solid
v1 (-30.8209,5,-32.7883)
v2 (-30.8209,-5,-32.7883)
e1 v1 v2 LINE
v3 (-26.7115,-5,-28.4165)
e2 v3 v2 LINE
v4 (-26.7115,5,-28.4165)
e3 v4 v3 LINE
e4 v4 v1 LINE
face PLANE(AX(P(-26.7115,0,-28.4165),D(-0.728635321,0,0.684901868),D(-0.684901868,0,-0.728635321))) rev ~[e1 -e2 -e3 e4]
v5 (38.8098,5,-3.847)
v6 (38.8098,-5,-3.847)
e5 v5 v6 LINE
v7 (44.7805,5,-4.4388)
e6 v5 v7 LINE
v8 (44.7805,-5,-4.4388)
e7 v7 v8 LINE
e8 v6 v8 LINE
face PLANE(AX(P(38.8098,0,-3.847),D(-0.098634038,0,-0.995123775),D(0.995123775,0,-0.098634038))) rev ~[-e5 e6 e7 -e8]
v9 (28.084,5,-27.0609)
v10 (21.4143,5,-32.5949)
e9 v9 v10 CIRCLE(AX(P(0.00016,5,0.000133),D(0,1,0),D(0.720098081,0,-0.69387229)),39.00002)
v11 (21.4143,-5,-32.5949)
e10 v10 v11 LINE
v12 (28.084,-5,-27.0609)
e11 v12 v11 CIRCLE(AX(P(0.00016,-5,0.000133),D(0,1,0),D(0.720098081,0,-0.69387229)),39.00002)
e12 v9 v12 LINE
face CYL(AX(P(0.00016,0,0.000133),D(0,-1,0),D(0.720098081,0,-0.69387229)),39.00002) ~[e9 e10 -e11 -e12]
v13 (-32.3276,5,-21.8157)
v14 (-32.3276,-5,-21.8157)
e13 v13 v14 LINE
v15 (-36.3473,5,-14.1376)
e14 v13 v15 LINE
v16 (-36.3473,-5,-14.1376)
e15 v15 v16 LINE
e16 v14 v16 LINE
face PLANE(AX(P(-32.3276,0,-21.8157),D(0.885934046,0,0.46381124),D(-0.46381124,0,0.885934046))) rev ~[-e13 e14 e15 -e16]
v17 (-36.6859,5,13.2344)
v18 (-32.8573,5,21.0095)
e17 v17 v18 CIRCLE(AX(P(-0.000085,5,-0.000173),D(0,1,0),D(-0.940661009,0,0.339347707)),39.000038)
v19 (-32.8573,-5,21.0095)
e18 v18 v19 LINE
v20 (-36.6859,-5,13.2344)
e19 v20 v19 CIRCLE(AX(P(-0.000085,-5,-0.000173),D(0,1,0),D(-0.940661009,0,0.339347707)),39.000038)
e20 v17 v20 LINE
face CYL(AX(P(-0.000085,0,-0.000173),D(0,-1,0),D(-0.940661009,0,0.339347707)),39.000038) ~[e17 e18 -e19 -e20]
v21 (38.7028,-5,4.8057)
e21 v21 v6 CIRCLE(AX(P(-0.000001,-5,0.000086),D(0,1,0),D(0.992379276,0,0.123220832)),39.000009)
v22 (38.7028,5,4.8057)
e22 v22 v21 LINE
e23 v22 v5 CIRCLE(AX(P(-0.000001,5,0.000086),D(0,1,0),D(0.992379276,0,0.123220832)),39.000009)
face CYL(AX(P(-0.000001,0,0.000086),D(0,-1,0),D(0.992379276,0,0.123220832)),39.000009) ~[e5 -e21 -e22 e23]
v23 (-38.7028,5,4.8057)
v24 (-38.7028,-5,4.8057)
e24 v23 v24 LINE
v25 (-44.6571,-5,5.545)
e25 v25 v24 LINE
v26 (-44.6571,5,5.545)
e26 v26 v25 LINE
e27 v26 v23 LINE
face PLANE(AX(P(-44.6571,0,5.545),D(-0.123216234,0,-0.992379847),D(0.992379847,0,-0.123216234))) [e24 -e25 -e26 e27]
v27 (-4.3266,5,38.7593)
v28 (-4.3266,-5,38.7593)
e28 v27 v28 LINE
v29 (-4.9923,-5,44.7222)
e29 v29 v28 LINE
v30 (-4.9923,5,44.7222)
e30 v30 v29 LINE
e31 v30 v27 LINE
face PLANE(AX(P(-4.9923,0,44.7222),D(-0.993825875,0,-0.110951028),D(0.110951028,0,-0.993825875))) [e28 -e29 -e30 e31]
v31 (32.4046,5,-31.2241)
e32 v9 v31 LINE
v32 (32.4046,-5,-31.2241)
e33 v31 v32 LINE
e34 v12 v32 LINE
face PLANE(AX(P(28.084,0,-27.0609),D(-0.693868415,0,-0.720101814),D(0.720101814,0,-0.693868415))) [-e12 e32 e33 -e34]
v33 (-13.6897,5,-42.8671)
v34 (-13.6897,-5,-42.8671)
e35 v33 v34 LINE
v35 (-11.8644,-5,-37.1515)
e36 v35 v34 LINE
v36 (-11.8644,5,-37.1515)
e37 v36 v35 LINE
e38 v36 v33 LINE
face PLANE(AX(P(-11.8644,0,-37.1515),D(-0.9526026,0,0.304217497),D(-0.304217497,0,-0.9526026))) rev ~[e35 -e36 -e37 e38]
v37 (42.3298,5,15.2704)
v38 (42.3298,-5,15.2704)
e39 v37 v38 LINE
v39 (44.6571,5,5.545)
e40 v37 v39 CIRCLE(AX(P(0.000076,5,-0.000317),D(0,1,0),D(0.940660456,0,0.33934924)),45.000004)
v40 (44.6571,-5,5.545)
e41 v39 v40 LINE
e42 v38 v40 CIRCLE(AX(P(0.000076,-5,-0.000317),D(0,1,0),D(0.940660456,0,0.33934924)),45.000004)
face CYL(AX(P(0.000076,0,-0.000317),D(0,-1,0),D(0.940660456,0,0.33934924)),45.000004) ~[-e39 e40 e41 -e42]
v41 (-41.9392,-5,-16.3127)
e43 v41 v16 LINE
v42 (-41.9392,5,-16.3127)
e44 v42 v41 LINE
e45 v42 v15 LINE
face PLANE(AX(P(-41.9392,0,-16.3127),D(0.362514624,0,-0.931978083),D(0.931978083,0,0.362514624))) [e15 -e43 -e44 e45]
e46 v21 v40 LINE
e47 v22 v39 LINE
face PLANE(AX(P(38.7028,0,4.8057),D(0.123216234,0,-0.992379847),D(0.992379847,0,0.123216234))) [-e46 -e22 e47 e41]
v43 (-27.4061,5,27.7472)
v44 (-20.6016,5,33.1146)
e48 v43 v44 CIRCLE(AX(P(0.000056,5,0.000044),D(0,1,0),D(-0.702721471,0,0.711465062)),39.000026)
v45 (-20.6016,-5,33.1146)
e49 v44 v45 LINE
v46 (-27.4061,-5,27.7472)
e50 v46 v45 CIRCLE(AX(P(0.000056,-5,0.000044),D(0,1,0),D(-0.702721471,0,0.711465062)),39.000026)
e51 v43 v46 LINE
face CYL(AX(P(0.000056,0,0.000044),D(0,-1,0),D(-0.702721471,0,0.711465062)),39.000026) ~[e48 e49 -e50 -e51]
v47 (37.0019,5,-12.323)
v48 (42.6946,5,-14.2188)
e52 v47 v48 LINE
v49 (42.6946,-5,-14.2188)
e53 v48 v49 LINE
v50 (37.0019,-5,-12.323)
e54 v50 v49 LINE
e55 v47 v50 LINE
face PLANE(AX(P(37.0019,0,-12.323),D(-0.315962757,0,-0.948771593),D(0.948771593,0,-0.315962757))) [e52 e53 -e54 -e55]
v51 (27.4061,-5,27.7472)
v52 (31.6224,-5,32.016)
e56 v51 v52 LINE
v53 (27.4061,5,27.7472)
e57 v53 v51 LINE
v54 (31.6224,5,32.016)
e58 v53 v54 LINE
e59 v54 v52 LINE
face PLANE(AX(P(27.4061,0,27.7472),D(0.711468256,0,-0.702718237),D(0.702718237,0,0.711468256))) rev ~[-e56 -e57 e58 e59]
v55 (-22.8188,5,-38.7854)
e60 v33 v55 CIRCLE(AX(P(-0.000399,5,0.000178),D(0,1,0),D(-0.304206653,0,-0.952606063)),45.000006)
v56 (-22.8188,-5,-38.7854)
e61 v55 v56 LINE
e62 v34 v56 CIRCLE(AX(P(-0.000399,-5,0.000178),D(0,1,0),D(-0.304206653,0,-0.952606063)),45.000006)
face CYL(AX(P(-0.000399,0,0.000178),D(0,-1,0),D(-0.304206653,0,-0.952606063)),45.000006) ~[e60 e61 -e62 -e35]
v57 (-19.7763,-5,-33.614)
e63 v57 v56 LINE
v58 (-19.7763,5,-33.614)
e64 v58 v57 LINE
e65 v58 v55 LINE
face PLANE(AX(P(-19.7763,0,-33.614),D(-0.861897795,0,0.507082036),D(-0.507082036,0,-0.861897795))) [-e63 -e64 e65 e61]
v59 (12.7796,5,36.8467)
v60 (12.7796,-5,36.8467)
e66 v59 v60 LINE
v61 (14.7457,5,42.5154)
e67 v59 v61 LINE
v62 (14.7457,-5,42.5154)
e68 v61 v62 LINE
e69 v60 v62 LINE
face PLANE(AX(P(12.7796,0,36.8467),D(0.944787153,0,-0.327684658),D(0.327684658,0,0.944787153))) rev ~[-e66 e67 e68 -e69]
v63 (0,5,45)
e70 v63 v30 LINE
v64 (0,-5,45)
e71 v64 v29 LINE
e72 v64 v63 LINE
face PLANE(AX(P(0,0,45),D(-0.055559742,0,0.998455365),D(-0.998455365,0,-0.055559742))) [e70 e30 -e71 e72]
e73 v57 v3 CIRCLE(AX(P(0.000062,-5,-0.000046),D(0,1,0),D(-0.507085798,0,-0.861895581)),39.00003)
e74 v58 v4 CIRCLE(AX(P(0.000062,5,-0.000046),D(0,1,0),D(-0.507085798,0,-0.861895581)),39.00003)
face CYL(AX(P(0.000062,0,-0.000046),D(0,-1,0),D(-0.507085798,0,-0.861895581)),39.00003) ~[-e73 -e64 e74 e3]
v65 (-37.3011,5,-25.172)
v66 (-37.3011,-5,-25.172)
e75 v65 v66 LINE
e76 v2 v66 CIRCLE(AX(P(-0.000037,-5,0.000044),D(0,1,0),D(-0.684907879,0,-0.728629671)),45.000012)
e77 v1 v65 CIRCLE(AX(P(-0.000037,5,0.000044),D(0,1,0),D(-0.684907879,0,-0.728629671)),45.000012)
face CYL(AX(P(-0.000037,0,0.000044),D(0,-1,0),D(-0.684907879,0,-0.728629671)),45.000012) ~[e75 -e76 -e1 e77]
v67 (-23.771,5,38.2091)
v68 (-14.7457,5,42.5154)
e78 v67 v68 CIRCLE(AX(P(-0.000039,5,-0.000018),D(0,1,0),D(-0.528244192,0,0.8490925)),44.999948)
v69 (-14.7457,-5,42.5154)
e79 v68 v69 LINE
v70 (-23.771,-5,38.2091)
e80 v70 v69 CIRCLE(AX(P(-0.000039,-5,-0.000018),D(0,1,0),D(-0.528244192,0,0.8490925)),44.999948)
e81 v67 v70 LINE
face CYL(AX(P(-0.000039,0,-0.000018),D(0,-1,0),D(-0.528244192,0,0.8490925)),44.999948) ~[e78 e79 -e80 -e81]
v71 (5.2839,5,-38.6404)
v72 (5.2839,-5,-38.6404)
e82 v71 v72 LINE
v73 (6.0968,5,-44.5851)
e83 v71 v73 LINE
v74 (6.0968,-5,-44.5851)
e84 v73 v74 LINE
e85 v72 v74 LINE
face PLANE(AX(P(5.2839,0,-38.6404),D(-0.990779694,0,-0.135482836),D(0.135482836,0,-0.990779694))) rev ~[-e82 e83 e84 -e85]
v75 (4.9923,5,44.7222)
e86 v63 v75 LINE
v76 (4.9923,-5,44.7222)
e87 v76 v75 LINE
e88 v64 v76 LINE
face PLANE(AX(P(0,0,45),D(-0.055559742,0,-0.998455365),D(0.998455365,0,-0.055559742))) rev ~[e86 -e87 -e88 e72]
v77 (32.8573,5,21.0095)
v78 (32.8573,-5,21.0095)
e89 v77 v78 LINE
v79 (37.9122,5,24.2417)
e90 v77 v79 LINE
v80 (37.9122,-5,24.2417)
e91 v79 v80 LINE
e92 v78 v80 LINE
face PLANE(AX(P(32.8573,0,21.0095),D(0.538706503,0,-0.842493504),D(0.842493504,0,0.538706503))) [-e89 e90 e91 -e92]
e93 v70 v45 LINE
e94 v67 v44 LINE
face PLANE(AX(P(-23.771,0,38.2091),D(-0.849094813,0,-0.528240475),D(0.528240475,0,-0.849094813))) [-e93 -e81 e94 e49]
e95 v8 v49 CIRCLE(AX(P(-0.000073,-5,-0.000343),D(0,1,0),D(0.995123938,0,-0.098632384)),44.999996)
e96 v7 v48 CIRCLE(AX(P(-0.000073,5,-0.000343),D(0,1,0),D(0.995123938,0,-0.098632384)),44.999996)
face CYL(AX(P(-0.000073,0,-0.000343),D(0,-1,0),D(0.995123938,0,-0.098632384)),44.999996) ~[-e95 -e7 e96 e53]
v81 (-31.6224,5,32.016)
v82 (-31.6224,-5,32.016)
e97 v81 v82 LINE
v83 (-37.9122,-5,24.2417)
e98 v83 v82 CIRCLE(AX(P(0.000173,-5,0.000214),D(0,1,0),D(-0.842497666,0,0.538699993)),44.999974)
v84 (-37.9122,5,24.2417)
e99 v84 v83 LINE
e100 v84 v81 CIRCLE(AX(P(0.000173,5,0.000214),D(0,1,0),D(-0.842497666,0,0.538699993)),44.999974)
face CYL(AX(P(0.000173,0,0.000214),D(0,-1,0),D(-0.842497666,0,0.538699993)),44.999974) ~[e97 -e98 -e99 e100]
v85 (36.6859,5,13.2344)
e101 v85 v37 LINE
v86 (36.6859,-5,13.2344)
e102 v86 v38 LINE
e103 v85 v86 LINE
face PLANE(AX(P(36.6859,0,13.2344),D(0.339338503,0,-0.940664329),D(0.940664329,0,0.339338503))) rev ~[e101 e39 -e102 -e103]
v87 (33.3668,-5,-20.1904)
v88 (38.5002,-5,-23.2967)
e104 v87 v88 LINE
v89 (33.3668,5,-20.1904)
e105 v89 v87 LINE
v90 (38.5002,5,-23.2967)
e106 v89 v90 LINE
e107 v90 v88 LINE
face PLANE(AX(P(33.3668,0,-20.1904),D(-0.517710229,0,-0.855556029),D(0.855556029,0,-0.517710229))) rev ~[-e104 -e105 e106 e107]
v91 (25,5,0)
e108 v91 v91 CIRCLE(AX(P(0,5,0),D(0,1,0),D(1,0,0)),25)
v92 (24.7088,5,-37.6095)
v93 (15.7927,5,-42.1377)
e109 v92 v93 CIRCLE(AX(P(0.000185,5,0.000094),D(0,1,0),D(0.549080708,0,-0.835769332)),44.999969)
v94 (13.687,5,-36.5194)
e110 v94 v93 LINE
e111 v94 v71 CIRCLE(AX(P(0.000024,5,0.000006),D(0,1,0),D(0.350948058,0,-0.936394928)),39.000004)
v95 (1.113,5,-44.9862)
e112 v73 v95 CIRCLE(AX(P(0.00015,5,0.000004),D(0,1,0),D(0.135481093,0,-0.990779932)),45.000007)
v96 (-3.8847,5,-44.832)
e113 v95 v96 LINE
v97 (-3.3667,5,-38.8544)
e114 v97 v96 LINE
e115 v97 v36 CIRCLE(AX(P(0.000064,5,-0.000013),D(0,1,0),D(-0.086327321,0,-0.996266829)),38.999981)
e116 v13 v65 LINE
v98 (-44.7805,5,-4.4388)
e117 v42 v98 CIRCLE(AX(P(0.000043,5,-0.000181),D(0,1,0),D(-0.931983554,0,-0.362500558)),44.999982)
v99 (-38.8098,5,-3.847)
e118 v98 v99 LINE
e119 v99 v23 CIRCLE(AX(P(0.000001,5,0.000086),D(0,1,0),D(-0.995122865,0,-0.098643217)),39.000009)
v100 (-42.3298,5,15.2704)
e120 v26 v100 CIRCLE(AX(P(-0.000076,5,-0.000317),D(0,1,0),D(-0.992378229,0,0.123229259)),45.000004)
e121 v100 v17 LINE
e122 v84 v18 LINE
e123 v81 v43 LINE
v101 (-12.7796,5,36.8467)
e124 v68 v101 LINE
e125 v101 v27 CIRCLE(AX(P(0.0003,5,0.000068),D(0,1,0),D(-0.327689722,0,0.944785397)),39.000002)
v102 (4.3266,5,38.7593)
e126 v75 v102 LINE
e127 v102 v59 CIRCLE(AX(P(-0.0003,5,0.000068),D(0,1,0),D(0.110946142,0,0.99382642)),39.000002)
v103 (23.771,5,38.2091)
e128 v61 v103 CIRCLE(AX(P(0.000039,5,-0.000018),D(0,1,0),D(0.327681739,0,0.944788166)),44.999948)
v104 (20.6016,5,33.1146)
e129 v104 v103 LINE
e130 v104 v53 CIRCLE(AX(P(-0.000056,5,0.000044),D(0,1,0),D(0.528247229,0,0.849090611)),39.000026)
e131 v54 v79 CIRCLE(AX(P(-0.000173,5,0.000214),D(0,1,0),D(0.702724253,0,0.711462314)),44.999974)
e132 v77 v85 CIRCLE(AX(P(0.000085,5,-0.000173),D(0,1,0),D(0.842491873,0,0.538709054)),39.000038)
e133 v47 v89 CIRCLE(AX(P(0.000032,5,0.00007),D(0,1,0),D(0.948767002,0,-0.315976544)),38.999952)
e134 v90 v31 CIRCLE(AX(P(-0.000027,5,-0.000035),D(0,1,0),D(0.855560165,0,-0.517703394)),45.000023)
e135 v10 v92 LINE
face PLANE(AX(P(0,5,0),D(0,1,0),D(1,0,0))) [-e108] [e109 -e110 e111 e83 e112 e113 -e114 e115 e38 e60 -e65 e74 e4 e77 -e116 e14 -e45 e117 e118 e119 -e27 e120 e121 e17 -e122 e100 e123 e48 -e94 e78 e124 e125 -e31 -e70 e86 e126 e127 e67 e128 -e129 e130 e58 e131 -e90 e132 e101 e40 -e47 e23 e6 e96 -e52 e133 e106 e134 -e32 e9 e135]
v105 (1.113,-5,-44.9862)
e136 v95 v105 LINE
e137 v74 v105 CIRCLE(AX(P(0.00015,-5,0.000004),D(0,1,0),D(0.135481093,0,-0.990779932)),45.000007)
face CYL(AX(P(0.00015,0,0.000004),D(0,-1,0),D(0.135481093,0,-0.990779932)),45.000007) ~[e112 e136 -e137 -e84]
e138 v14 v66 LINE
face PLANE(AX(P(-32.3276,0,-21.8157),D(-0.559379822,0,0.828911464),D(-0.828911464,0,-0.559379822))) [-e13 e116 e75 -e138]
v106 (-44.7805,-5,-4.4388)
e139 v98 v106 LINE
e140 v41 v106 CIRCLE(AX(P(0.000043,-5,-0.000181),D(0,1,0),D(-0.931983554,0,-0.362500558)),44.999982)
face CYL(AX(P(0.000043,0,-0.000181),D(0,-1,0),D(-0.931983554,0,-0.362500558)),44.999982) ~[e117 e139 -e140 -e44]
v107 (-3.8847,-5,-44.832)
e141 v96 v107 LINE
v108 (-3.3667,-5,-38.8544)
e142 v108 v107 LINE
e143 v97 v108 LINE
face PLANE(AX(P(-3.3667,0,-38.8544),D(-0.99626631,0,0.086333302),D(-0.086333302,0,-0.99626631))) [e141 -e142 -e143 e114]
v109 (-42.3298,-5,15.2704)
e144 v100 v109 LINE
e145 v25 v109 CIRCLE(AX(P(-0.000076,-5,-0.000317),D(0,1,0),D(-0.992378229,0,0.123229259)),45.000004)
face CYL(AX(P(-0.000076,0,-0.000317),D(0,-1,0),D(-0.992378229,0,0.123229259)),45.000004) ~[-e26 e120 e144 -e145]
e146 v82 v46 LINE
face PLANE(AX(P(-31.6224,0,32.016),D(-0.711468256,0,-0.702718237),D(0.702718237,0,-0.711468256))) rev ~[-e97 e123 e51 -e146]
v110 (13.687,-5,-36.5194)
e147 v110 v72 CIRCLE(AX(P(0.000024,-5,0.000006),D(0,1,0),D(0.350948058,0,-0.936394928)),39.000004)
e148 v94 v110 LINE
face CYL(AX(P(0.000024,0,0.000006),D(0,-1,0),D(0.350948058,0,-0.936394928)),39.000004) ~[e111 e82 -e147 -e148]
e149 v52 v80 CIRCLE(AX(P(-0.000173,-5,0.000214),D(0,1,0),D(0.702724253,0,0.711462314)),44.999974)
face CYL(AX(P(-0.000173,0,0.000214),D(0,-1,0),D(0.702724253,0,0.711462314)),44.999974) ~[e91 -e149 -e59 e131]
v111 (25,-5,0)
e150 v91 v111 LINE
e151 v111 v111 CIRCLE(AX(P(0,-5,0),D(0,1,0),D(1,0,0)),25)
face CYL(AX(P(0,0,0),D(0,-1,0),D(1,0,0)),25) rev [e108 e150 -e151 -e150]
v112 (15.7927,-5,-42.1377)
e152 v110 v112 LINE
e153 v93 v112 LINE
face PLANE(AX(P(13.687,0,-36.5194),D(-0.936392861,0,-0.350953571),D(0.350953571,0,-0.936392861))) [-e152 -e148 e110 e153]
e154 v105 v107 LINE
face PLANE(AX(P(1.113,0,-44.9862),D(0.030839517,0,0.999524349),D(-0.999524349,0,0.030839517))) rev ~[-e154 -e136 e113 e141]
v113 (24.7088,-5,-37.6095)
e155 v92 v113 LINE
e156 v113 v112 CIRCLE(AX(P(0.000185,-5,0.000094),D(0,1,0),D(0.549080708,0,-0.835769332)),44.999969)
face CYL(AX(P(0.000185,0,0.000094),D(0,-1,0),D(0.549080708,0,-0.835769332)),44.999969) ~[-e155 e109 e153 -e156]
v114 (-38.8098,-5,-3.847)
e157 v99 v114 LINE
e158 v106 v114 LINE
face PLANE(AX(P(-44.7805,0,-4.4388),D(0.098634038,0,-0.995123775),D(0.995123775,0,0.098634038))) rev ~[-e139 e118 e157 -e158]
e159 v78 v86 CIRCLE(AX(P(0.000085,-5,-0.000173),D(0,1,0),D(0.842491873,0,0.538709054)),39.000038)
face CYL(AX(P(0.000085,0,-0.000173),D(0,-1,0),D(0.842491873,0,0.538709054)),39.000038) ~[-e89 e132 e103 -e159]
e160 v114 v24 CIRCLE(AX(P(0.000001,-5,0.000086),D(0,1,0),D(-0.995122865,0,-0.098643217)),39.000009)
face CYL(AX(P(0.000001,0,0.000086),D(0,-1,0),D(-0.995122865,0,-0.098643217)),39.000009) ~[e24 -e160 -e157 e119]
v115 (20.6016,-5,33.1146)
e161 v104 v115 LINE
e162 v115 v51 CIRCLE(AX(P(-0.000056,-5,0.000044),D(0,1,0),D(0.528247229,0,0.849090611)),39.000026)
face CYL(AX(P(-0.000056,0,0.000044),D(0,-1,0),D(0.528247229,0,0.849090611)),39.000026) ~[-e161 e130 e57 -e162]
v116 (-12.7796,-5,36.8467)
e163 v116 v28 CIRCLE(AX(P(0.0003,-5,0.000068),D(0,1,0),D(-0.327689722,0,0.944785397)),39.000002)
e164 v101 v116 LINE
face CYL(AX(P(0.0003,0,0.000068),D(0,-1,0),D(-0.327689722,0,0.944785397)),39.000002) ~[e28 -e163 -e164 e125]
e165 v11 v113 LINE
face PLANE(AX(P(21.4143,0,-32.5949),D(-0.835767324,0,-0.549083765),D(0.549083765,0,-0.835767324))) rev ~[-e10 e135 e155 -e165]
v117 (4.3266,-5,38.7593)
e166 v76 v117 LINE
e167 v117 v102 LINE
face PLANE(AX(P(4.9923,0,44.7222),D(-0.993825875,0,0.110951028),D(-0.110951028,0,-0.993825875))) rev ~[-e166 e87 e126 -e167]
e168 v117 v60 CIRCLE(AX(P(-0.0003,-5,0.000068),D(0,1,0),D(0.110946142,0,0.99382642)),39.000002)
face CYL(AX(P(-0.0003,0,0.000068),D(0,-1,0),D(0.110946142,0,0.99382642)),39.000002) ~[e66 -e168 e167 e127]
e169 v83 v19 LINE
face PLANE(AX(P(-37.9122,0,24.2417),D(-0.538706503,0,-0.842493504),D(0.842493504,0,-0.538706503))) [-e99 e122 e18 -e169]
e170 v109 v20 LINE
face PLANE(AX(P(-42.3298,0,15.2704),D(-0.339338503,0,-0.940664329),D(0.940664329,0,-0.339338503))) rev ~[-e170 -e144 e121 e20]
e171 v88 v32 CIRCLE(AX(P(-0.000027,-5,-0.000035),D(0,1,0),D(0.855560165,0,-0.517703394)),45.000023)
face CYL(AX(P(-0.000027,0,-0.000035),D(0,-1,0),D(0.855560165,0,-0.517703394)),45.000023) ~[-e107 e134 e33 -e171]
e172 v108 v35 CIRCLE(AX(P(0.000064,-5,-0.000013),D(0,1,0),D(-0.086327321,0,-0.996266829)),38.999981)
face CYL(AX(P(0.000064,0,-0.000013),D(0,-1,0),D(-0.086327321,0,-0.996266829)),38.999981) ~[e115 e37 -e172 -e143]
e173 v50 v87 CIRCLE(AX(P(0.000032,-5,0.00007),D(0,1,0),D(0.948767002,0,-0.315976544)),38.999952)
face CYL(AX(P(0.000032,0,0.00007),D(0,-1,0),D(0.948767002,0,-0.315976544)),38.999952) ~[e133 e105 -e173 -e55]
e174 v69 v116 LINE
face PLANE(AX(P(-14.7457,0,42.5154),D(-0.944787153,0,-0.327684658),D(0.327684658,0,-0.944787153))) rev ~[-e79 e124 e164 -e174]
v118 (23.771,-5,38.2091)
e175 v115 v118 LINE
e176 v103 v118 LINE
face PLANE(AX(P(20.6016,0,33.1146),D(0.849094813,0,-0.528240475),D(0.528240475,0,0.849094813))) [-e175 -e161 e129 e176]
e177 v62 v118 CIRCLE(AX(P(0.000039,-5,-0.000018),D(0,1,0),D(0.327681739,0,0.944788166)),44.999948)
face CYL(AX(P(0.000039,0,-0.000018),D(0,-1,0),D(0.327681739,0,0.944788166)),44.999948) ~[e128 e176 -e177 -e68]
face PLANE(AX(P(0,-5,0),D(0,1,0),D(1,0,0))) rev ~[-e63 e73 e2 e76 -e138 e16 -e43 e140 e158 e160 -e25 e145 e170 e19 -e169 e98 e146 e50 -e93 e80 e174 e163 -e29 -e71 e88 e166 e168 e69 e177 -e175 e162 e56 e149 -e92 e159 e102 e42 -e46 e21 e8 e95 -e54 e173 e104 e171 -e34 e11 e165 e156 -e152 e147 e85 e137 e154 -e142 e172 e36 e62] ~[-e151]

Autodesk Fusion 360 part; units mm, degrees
sketch "Sketch1" plane through (0, 0, 0) normal (0, 1, 0) x (1, 0, 0)
  circle A0 centre (0, 0) radius 25
  line L0 (0, 0) -> (0, -72.8192) construction
  line L1 (0, -72.8192) -> (0, 0) construction
  line L2 (0, -45) -> (-4.9923, -44.7222)
  line L3 (-4.9923, -44.7222) -> (-4.3266, -38.7593)
  line L4 (-14.7457, -42.5154) -> (-12.7796, -36.8467)
  line L5 (-23.771, -38.2091) -> (-20.6016, -33.1146)
  line L6 (-31.6224, -32.016) -> (-27.4061, -27.7472)
  line L7 (-37.9122, -24.2417) -> (-32.8573, -21.0095)
  line L8 (-42.3298, -15.2704) -> (-36.6859, -13.2344)
  line L9 (-44.6571, -5.545) -> (-38.7028, -4.8057)
  line L10 (0, 0) -> (-2.7735, -24.8457) construction
  line L11 (-4.3266, -38.7593) -> (-4.9923, -44.7222) construction
  line L12 (0, 0) -> (-8.1921, -23.6197) construction
  line L13 (-12.7796, -36.8467) -> (-14.7457, -42.5154) construction
  line L14 (0, 0) -> (-13.2061, -21.2273) construction
  line L15 (-20.6016, -33.1146) -> (-23.771, -38.2091) construction
  line L16 (0, 0) -> (-17.568, -17.7866) construction
  line L17 (-27.4061, -27.7472) -> (-31.6224, -32.016) construction
  line L18 (0, 0) -> (-21.0624, -13.4676) construction
  line L19 (-32.8573, -21.0095) -> (-37.9122, -24.2417) construction
  line L20 (0, 0) -> (-23.5166, -8.4836) construction
  line L21 (-36.6859, -13.2344) -> (-42.3298, -15.2704) construction
  line L22 (0, 0) -> (-24.8095, -3.0805) construction
  line L23 (-38.7028, -4.8057) -> (-44.6571, -5.545) construction
  arc A1 (-23.771, -38.2091) -> (-14.7457, -42.5154) centre (0, 0) ccw
  arc A2 (-37.9122, -24.2417) -> (-31.6224, -32.016) centre (0, 0) ccw
  arc A3 (-36.6859, -13.2344) -> (-32.8573, -21.0095) centre (0, 0) ccw
  arc A4 (-27.4061, -27.7472) -> (-20.6016, -33.1146) centre (0, 0) ccw
  line L24 (-44.7805, 4.4388) -> (-38.8098, 3.847) construction
  line L25 (0, 0) -> (-24.8781, 2.466) construction
  line L26 (-38.8098, 3.847) -> (-44.7805, 4.4388) construction
  line L27 (-44.7805, 4.4388) -> (-38.8098, 3.847)
  arc A5 (-44.6571, -5.545) -> (-42.3298, -15.2704) centre (0, 0) ccw
  line L28 (0, -45) -> (4.9923, -44.7222)
  line L29 (0, 0) -> (4.9923, -44.7222) construction
  line L30 (4.9923, -44.7222) -> (4.3266, -38.7593)
  line L31 (0.0235, -39) -> (0, -45) construction
  line L32 (0.0235, -39) -> (0, -45)
  arc A6 (-12.7796, -36.8467) -> (-4.3266, -38.7593) centre (0, 0) ccw
  line L33 (0, 0) -> (67, 0) construction
  line L34 (0, 0) -> (0, 30) construction
  line L35 (65.5098, -16.7592) -> (65.5098, -18.6386)
  line L36 (0, 0) -> (14.7457, -42.5154) construction
  line L37 (0, 0) -> (23.771, -38.2091) construction
  line L38 (0, 0) -> (31.6224, -32.016) construction
  line L39 (0, 0) -> (37.9122, -24.2417) construction
  line L40 (0, 0) -> (42.3298, -15.2704) construction
  line L41 (0, 0) -> (44.6571, -5.545) construction
  line L42 (12.7796, -36.8467) -> (14.7457, -42.5154)
  line L43 (20.6016, -33.1146) -> (23.771, -38.2091)
  line L44 (27.4061, -27.7472) -> (31.6224, -32.016)
  line L45 (32.8573, -21.0095) -> (37.9122, -24.2417)
  line L46 (36.6859, -13.2344) -> (42.3298, -15.2704)
  line L47 (38.7028, -4.8057) -> (44.6571, -5.545)
  arc A7 (-4.9923, -44.7222) -> (4.9923, -44.7222) centre (0, 0) ccw
  line L48 (4.9923, -44.7222) -> (14.7457, -42.5154) construction
  arc A8 (14.7457, -42.5154) -> (23.771, -38.2091) centre (0, 0) ccw
  line L49 (23.771, -38.2091) -> (31.6224, -32.016) construction
  arc A9 (31.6224, -32.016) -> (37.9122, -24.2417) centre (0, 0) ccw
  line L50 (37.9122, -24.2417) -> (42.3298, -15.2704) construction
  arc A10 (4.3266, -38.7593) -> (12.7796, -36.8467) centre (0, 0) ccw
  line L51 (12.7796, -36.8467) -> (20.6016, -33.1146) construction
  arc A11 (20.6016, -33.1146) -> (27.4061, -27.7472) centre (0, 0) ccw
  line L52 (27.4061, -27.7472) -> (32.8573, -21.0095) construction
  arc A12 (32.8573, -21.0095) -> (36.6859, -13.2344) centre (0, 0) ccw
  line L53 (36.6859, -13.2344) -> (38.7028, -4.8057) construction
  line L54 (-38.7028, -4.8057) -> (-36.6859, -13.2344) construction
  line L55 (-32.8573, -21.0095) -> (-27.4061, -27.7472) construction
  line L56 (-20.6016, -33.1146) -> (-12.7796, -36.8467) construction
  line L57 (-4.3266, -38.7593) -> (4.3266, -38.7593) construction
  line L58 (44.9966, -0.5565) -> (44.9725, 0)
  line L59 (0, 0) -> (44.7805, 4.4388) construction
  line L60 (0, 0) -> (42.6946, 14.2188) construction
  line L61 (0, 0) -> (38.5002, 23.2967) construction
  line L62 (0, 0) -> (32.4046, 31.2241) construction
  line L63 (0, 0) -> (24.7088, 37.6095) construction
  line L64 (0, 0) -> (15.7927, 42.1377) construction
  line L65 (0, 0) -> (6.0968, 44.5851) construction
  line L66 (38.8098, 3.847) -> (44.7805, 4.4388)
  line L67 (37.0019, 12.323) -> (42.6946, 14.2188)
  line L68 (33.3668, 20.1904) -> (38.5002, 23.2967)
  line L69 (28.084, 27.0609) -> (32.4046, 31.2241)
  line L70 (21.4143, 32.5949) -> (24.7088, 37.6095)
  line L71 (13.687, 36.5194) -> (15.7927, 42.1377)
  line L72 (5.2839, 38.6404) -> (6.0968, 44.5851)
  arc A13 (42.3298, -15.2704) -> (44.6571, -5.545) centre (0, 0) ccw
  arc A14 (44.9966, -0.5565) -> (45, 0) centre (0, 0) ccw
  line L73 (44.6571, -5.545) -> (44.7805, 4.4388) construction
  arc A15 (44.7805, 4.4388) -> (42.6946, 14.2188) centre (0, 0) ccw
  line L74 (42.6946, 14.2188) -> (38.5002, 23.2967) construction
  arc A16 (38.5002, 23.2967) -> (32.4046, 31.2241) centre (0, 0) ccw
  line L75 (32.4046, 31.2241) -> (24.7088, 37.6095) construction
  arc A17 (24.7088, 37.6095) -> (15.7927, 42.1377) centre (0, 0) ccw
  line L76 (15.7927, 42.1377) -> (6.0968, 44.5851) construction
  line L77 (1.113, 44.9862) -> (-3.8847, 44.832)
  line L78 (0, 0) -> (-3.8847, 44.832) construction
  line L79 (0, 0) -> (-13.6897, 42.8671) construction
  line L80 (0, 0) -> (-22.8188, 38.7854) construction
  line L81 (0, 0) -> (-30.8209, 32.7883) construction
  line L82 (0, 0) -> (-37.3011, 25.172) construction
  line L83 (0, 0) -> (-41.9392, 16.3127) construction
  line L84 (-3.3667, 38.8544) -> (-3.8847, 44.832)
  line L85 (-11.8644, 37.1515) -> (-13.6897, 42.8671)
  line L86 (-19.7763, 33.614) -> (-22.8188, 38.7854)
  line L87 (-26.7115, 28.4165) -> (-30.8209, 32.7883)
  line L88 (-32.3276, 21.8157) -> (-37.3011, 25.172)
  line L89 (-41.9392, 16.3127) -> (-36.3473, 14.1376)
  arc A18 (6.0968, 44.5851) -> (-3.8847, 44.832) centre (0, 0) ccw
  line L90 (-3.8847, 44.832) -> (-13.6897, 42.8671) construction
  line L91 (-13.6897, 42.8671) -> (-11.8644, 37.1515) construction
  arc A19 (-13.6897, 42.8671) -> (-22.8188, 38.7854) centre (0, 0) ccw
  line L92 (-22.8188, 38.7854) -> (-30.8209, 32.7883) construction
  line L93 (-30.8209, 32.7883) -> (-26.7115, 28.4165) construction
  line L94 (-30.8209, 32.7883) -> (-26.7115, 28.4165)
  arc A20 (-30.8209, 32.7883) -> (-37.3011, 25.172) centre (0, 0) ccw
  arc A21 (-41.9392, 16.3127) -> (-44.7805, 4.4388) centre (0, 0) ccw
  line L95 (-37.3011, 25.172) -> (-41.9392, 16.3127) construction
  line L96 (-41.9392, 16.3127) -> (-36.3473, 14.1376)
  line L97 (-32.3276, 21.8157) -> (-37.3011, 25.172)
  arc A22 (38.7028, -4.8057) -> (38.8098, 3.847) centre (0, 0) ccw
  line L98 (38.8098, 3.847) -> (37.0019, 12.323) construction
  line L99 (24.7088, 37.6095) -> (21.4143, 32.5949)
  arc A23 (37.0019, 12.323) -> (33.3668, 20.1904) centre (0, 0) ccw
  line L100 (33.3668, 20.1904) -> (28.084, 27.0609) construction
  line L101 (38.5002, 23.2967) -> (33.3668, 20.1904)
  arc A24 (28.084, 27.0609) -> (21.4143, 32.5949) centre (0, 0) ccw
  line L102 (21.4143, 32.5949) -> (13.687, 36.5194) construction
  line L103 (13.687, 36.5194) -> (15.7927, 42.1377)
  arc A25 (13.687, 36.5194) -> (5.2839, 38.6404) centre (0, 0) ccw
  line L104 (5.2839, 38.6404) -> (-3.3667, 38.8544) construction
  line L105 (-3.3667, 38.8544) -> (-3.8847, 44.832)
  line L106 (-13.6897, 42.8671) -> (-11.8644, 37.1515)
  arc A26 (-3.3667, 38.8544) -> (-11.8644, 37.1515) centre (0, 0) ccw
  line L107 (-11.8644, 37.1515) -> (-19.7763, 33.614) construction
  line L108 (-22.8188, 38.7854) -> (-19.7763, 33.614)
  line L109 (-30.8209, 32.7883) -> (-26.7115, 28.4165)
  arc A27 (-19.7763, 33.614) -> (-26.7115, 28.4165) centre (0, 0) ccw
  line L110 (-26.7115, 28.4165) -> (-32.3276, 21.8157) construction
  line L111 (-37.3011, 25.172) -> (-32.3276, 21.8157)
  line L112 (-36.3473, 14.1376) -> (-41.9392, 16.3127)
  arc A28 (-32.3276, 21.8157) -> (-36.3473, 14.1376) centre (0, 0) ccw
  arc A29 (-38.8098, 3.847) -> (-38.7028, -4.8057) centre (0, 0) ccw
  line L113 (-38.8098, 3.847) -> (-36.3473, 14.1376) construction
  line L114 (-41.9392, 16.3127) -> (-36.3473, 14.1376)
  line L115 (-32.3276, 21.8157) -> (-36.3473, 14.1376)
  dimension "d1" = 90
  dimension "d2" = 78
  dimension "d3" = 50
  dimension "d4" = 5
  dimension "d5" = 10
  dimension "d6" = 10
  dimension "d7" = 10
  dimension "d8" = 10
  dimension "d9" = 10
  dimension "d10" = 10
  dimension "d13" = 12.739
  dimension "d14" = 5
  dimension "d15" = 10
  dimension "d16" = 10
  dimension "d17" = 10
  dimension "d18" = 10
  dimension "d19" = 10
  dimension "d20" = 10
  dimension "d21" = 5
  dimension "d22" = 5
  dimension "d23" = 10
  dimension "d24" = 10
  dimension "d25" = 10
  dimension "d26" = 10
  dimension "d27" = 10
  dimension "d28" = 10
  dimension "d29" = 5
  dimension "d30" = 5
  dimension "d31" = 10
  dimension "d32" = 10
  dimension "d33" = 10
  dimension "d34" = 10
  dimension "d35" = 10
extrude "Extrude1" add sketch "Sketch1" along normal mid plane 10 contours L2 L3 L4 L5 L6 L7 L8 L9 A1 A2 A3 A4 L27 A5 L28 L30 A6 L42 L43 L44 L45 L46 L47 A8 A9 A10 A11 A12 L66 L67 L68 L69 L70 L71 L72 A13 A15 A16 A17 L77 L84 L85 L86 L87 L88 L89 A18 A19 L94 A20 A21 L96 L97 A22 L99 A23 L101 A24 L103 A25 L105 L106 A26 L108 L109 A27 L111 L112 A29 L114 L115
